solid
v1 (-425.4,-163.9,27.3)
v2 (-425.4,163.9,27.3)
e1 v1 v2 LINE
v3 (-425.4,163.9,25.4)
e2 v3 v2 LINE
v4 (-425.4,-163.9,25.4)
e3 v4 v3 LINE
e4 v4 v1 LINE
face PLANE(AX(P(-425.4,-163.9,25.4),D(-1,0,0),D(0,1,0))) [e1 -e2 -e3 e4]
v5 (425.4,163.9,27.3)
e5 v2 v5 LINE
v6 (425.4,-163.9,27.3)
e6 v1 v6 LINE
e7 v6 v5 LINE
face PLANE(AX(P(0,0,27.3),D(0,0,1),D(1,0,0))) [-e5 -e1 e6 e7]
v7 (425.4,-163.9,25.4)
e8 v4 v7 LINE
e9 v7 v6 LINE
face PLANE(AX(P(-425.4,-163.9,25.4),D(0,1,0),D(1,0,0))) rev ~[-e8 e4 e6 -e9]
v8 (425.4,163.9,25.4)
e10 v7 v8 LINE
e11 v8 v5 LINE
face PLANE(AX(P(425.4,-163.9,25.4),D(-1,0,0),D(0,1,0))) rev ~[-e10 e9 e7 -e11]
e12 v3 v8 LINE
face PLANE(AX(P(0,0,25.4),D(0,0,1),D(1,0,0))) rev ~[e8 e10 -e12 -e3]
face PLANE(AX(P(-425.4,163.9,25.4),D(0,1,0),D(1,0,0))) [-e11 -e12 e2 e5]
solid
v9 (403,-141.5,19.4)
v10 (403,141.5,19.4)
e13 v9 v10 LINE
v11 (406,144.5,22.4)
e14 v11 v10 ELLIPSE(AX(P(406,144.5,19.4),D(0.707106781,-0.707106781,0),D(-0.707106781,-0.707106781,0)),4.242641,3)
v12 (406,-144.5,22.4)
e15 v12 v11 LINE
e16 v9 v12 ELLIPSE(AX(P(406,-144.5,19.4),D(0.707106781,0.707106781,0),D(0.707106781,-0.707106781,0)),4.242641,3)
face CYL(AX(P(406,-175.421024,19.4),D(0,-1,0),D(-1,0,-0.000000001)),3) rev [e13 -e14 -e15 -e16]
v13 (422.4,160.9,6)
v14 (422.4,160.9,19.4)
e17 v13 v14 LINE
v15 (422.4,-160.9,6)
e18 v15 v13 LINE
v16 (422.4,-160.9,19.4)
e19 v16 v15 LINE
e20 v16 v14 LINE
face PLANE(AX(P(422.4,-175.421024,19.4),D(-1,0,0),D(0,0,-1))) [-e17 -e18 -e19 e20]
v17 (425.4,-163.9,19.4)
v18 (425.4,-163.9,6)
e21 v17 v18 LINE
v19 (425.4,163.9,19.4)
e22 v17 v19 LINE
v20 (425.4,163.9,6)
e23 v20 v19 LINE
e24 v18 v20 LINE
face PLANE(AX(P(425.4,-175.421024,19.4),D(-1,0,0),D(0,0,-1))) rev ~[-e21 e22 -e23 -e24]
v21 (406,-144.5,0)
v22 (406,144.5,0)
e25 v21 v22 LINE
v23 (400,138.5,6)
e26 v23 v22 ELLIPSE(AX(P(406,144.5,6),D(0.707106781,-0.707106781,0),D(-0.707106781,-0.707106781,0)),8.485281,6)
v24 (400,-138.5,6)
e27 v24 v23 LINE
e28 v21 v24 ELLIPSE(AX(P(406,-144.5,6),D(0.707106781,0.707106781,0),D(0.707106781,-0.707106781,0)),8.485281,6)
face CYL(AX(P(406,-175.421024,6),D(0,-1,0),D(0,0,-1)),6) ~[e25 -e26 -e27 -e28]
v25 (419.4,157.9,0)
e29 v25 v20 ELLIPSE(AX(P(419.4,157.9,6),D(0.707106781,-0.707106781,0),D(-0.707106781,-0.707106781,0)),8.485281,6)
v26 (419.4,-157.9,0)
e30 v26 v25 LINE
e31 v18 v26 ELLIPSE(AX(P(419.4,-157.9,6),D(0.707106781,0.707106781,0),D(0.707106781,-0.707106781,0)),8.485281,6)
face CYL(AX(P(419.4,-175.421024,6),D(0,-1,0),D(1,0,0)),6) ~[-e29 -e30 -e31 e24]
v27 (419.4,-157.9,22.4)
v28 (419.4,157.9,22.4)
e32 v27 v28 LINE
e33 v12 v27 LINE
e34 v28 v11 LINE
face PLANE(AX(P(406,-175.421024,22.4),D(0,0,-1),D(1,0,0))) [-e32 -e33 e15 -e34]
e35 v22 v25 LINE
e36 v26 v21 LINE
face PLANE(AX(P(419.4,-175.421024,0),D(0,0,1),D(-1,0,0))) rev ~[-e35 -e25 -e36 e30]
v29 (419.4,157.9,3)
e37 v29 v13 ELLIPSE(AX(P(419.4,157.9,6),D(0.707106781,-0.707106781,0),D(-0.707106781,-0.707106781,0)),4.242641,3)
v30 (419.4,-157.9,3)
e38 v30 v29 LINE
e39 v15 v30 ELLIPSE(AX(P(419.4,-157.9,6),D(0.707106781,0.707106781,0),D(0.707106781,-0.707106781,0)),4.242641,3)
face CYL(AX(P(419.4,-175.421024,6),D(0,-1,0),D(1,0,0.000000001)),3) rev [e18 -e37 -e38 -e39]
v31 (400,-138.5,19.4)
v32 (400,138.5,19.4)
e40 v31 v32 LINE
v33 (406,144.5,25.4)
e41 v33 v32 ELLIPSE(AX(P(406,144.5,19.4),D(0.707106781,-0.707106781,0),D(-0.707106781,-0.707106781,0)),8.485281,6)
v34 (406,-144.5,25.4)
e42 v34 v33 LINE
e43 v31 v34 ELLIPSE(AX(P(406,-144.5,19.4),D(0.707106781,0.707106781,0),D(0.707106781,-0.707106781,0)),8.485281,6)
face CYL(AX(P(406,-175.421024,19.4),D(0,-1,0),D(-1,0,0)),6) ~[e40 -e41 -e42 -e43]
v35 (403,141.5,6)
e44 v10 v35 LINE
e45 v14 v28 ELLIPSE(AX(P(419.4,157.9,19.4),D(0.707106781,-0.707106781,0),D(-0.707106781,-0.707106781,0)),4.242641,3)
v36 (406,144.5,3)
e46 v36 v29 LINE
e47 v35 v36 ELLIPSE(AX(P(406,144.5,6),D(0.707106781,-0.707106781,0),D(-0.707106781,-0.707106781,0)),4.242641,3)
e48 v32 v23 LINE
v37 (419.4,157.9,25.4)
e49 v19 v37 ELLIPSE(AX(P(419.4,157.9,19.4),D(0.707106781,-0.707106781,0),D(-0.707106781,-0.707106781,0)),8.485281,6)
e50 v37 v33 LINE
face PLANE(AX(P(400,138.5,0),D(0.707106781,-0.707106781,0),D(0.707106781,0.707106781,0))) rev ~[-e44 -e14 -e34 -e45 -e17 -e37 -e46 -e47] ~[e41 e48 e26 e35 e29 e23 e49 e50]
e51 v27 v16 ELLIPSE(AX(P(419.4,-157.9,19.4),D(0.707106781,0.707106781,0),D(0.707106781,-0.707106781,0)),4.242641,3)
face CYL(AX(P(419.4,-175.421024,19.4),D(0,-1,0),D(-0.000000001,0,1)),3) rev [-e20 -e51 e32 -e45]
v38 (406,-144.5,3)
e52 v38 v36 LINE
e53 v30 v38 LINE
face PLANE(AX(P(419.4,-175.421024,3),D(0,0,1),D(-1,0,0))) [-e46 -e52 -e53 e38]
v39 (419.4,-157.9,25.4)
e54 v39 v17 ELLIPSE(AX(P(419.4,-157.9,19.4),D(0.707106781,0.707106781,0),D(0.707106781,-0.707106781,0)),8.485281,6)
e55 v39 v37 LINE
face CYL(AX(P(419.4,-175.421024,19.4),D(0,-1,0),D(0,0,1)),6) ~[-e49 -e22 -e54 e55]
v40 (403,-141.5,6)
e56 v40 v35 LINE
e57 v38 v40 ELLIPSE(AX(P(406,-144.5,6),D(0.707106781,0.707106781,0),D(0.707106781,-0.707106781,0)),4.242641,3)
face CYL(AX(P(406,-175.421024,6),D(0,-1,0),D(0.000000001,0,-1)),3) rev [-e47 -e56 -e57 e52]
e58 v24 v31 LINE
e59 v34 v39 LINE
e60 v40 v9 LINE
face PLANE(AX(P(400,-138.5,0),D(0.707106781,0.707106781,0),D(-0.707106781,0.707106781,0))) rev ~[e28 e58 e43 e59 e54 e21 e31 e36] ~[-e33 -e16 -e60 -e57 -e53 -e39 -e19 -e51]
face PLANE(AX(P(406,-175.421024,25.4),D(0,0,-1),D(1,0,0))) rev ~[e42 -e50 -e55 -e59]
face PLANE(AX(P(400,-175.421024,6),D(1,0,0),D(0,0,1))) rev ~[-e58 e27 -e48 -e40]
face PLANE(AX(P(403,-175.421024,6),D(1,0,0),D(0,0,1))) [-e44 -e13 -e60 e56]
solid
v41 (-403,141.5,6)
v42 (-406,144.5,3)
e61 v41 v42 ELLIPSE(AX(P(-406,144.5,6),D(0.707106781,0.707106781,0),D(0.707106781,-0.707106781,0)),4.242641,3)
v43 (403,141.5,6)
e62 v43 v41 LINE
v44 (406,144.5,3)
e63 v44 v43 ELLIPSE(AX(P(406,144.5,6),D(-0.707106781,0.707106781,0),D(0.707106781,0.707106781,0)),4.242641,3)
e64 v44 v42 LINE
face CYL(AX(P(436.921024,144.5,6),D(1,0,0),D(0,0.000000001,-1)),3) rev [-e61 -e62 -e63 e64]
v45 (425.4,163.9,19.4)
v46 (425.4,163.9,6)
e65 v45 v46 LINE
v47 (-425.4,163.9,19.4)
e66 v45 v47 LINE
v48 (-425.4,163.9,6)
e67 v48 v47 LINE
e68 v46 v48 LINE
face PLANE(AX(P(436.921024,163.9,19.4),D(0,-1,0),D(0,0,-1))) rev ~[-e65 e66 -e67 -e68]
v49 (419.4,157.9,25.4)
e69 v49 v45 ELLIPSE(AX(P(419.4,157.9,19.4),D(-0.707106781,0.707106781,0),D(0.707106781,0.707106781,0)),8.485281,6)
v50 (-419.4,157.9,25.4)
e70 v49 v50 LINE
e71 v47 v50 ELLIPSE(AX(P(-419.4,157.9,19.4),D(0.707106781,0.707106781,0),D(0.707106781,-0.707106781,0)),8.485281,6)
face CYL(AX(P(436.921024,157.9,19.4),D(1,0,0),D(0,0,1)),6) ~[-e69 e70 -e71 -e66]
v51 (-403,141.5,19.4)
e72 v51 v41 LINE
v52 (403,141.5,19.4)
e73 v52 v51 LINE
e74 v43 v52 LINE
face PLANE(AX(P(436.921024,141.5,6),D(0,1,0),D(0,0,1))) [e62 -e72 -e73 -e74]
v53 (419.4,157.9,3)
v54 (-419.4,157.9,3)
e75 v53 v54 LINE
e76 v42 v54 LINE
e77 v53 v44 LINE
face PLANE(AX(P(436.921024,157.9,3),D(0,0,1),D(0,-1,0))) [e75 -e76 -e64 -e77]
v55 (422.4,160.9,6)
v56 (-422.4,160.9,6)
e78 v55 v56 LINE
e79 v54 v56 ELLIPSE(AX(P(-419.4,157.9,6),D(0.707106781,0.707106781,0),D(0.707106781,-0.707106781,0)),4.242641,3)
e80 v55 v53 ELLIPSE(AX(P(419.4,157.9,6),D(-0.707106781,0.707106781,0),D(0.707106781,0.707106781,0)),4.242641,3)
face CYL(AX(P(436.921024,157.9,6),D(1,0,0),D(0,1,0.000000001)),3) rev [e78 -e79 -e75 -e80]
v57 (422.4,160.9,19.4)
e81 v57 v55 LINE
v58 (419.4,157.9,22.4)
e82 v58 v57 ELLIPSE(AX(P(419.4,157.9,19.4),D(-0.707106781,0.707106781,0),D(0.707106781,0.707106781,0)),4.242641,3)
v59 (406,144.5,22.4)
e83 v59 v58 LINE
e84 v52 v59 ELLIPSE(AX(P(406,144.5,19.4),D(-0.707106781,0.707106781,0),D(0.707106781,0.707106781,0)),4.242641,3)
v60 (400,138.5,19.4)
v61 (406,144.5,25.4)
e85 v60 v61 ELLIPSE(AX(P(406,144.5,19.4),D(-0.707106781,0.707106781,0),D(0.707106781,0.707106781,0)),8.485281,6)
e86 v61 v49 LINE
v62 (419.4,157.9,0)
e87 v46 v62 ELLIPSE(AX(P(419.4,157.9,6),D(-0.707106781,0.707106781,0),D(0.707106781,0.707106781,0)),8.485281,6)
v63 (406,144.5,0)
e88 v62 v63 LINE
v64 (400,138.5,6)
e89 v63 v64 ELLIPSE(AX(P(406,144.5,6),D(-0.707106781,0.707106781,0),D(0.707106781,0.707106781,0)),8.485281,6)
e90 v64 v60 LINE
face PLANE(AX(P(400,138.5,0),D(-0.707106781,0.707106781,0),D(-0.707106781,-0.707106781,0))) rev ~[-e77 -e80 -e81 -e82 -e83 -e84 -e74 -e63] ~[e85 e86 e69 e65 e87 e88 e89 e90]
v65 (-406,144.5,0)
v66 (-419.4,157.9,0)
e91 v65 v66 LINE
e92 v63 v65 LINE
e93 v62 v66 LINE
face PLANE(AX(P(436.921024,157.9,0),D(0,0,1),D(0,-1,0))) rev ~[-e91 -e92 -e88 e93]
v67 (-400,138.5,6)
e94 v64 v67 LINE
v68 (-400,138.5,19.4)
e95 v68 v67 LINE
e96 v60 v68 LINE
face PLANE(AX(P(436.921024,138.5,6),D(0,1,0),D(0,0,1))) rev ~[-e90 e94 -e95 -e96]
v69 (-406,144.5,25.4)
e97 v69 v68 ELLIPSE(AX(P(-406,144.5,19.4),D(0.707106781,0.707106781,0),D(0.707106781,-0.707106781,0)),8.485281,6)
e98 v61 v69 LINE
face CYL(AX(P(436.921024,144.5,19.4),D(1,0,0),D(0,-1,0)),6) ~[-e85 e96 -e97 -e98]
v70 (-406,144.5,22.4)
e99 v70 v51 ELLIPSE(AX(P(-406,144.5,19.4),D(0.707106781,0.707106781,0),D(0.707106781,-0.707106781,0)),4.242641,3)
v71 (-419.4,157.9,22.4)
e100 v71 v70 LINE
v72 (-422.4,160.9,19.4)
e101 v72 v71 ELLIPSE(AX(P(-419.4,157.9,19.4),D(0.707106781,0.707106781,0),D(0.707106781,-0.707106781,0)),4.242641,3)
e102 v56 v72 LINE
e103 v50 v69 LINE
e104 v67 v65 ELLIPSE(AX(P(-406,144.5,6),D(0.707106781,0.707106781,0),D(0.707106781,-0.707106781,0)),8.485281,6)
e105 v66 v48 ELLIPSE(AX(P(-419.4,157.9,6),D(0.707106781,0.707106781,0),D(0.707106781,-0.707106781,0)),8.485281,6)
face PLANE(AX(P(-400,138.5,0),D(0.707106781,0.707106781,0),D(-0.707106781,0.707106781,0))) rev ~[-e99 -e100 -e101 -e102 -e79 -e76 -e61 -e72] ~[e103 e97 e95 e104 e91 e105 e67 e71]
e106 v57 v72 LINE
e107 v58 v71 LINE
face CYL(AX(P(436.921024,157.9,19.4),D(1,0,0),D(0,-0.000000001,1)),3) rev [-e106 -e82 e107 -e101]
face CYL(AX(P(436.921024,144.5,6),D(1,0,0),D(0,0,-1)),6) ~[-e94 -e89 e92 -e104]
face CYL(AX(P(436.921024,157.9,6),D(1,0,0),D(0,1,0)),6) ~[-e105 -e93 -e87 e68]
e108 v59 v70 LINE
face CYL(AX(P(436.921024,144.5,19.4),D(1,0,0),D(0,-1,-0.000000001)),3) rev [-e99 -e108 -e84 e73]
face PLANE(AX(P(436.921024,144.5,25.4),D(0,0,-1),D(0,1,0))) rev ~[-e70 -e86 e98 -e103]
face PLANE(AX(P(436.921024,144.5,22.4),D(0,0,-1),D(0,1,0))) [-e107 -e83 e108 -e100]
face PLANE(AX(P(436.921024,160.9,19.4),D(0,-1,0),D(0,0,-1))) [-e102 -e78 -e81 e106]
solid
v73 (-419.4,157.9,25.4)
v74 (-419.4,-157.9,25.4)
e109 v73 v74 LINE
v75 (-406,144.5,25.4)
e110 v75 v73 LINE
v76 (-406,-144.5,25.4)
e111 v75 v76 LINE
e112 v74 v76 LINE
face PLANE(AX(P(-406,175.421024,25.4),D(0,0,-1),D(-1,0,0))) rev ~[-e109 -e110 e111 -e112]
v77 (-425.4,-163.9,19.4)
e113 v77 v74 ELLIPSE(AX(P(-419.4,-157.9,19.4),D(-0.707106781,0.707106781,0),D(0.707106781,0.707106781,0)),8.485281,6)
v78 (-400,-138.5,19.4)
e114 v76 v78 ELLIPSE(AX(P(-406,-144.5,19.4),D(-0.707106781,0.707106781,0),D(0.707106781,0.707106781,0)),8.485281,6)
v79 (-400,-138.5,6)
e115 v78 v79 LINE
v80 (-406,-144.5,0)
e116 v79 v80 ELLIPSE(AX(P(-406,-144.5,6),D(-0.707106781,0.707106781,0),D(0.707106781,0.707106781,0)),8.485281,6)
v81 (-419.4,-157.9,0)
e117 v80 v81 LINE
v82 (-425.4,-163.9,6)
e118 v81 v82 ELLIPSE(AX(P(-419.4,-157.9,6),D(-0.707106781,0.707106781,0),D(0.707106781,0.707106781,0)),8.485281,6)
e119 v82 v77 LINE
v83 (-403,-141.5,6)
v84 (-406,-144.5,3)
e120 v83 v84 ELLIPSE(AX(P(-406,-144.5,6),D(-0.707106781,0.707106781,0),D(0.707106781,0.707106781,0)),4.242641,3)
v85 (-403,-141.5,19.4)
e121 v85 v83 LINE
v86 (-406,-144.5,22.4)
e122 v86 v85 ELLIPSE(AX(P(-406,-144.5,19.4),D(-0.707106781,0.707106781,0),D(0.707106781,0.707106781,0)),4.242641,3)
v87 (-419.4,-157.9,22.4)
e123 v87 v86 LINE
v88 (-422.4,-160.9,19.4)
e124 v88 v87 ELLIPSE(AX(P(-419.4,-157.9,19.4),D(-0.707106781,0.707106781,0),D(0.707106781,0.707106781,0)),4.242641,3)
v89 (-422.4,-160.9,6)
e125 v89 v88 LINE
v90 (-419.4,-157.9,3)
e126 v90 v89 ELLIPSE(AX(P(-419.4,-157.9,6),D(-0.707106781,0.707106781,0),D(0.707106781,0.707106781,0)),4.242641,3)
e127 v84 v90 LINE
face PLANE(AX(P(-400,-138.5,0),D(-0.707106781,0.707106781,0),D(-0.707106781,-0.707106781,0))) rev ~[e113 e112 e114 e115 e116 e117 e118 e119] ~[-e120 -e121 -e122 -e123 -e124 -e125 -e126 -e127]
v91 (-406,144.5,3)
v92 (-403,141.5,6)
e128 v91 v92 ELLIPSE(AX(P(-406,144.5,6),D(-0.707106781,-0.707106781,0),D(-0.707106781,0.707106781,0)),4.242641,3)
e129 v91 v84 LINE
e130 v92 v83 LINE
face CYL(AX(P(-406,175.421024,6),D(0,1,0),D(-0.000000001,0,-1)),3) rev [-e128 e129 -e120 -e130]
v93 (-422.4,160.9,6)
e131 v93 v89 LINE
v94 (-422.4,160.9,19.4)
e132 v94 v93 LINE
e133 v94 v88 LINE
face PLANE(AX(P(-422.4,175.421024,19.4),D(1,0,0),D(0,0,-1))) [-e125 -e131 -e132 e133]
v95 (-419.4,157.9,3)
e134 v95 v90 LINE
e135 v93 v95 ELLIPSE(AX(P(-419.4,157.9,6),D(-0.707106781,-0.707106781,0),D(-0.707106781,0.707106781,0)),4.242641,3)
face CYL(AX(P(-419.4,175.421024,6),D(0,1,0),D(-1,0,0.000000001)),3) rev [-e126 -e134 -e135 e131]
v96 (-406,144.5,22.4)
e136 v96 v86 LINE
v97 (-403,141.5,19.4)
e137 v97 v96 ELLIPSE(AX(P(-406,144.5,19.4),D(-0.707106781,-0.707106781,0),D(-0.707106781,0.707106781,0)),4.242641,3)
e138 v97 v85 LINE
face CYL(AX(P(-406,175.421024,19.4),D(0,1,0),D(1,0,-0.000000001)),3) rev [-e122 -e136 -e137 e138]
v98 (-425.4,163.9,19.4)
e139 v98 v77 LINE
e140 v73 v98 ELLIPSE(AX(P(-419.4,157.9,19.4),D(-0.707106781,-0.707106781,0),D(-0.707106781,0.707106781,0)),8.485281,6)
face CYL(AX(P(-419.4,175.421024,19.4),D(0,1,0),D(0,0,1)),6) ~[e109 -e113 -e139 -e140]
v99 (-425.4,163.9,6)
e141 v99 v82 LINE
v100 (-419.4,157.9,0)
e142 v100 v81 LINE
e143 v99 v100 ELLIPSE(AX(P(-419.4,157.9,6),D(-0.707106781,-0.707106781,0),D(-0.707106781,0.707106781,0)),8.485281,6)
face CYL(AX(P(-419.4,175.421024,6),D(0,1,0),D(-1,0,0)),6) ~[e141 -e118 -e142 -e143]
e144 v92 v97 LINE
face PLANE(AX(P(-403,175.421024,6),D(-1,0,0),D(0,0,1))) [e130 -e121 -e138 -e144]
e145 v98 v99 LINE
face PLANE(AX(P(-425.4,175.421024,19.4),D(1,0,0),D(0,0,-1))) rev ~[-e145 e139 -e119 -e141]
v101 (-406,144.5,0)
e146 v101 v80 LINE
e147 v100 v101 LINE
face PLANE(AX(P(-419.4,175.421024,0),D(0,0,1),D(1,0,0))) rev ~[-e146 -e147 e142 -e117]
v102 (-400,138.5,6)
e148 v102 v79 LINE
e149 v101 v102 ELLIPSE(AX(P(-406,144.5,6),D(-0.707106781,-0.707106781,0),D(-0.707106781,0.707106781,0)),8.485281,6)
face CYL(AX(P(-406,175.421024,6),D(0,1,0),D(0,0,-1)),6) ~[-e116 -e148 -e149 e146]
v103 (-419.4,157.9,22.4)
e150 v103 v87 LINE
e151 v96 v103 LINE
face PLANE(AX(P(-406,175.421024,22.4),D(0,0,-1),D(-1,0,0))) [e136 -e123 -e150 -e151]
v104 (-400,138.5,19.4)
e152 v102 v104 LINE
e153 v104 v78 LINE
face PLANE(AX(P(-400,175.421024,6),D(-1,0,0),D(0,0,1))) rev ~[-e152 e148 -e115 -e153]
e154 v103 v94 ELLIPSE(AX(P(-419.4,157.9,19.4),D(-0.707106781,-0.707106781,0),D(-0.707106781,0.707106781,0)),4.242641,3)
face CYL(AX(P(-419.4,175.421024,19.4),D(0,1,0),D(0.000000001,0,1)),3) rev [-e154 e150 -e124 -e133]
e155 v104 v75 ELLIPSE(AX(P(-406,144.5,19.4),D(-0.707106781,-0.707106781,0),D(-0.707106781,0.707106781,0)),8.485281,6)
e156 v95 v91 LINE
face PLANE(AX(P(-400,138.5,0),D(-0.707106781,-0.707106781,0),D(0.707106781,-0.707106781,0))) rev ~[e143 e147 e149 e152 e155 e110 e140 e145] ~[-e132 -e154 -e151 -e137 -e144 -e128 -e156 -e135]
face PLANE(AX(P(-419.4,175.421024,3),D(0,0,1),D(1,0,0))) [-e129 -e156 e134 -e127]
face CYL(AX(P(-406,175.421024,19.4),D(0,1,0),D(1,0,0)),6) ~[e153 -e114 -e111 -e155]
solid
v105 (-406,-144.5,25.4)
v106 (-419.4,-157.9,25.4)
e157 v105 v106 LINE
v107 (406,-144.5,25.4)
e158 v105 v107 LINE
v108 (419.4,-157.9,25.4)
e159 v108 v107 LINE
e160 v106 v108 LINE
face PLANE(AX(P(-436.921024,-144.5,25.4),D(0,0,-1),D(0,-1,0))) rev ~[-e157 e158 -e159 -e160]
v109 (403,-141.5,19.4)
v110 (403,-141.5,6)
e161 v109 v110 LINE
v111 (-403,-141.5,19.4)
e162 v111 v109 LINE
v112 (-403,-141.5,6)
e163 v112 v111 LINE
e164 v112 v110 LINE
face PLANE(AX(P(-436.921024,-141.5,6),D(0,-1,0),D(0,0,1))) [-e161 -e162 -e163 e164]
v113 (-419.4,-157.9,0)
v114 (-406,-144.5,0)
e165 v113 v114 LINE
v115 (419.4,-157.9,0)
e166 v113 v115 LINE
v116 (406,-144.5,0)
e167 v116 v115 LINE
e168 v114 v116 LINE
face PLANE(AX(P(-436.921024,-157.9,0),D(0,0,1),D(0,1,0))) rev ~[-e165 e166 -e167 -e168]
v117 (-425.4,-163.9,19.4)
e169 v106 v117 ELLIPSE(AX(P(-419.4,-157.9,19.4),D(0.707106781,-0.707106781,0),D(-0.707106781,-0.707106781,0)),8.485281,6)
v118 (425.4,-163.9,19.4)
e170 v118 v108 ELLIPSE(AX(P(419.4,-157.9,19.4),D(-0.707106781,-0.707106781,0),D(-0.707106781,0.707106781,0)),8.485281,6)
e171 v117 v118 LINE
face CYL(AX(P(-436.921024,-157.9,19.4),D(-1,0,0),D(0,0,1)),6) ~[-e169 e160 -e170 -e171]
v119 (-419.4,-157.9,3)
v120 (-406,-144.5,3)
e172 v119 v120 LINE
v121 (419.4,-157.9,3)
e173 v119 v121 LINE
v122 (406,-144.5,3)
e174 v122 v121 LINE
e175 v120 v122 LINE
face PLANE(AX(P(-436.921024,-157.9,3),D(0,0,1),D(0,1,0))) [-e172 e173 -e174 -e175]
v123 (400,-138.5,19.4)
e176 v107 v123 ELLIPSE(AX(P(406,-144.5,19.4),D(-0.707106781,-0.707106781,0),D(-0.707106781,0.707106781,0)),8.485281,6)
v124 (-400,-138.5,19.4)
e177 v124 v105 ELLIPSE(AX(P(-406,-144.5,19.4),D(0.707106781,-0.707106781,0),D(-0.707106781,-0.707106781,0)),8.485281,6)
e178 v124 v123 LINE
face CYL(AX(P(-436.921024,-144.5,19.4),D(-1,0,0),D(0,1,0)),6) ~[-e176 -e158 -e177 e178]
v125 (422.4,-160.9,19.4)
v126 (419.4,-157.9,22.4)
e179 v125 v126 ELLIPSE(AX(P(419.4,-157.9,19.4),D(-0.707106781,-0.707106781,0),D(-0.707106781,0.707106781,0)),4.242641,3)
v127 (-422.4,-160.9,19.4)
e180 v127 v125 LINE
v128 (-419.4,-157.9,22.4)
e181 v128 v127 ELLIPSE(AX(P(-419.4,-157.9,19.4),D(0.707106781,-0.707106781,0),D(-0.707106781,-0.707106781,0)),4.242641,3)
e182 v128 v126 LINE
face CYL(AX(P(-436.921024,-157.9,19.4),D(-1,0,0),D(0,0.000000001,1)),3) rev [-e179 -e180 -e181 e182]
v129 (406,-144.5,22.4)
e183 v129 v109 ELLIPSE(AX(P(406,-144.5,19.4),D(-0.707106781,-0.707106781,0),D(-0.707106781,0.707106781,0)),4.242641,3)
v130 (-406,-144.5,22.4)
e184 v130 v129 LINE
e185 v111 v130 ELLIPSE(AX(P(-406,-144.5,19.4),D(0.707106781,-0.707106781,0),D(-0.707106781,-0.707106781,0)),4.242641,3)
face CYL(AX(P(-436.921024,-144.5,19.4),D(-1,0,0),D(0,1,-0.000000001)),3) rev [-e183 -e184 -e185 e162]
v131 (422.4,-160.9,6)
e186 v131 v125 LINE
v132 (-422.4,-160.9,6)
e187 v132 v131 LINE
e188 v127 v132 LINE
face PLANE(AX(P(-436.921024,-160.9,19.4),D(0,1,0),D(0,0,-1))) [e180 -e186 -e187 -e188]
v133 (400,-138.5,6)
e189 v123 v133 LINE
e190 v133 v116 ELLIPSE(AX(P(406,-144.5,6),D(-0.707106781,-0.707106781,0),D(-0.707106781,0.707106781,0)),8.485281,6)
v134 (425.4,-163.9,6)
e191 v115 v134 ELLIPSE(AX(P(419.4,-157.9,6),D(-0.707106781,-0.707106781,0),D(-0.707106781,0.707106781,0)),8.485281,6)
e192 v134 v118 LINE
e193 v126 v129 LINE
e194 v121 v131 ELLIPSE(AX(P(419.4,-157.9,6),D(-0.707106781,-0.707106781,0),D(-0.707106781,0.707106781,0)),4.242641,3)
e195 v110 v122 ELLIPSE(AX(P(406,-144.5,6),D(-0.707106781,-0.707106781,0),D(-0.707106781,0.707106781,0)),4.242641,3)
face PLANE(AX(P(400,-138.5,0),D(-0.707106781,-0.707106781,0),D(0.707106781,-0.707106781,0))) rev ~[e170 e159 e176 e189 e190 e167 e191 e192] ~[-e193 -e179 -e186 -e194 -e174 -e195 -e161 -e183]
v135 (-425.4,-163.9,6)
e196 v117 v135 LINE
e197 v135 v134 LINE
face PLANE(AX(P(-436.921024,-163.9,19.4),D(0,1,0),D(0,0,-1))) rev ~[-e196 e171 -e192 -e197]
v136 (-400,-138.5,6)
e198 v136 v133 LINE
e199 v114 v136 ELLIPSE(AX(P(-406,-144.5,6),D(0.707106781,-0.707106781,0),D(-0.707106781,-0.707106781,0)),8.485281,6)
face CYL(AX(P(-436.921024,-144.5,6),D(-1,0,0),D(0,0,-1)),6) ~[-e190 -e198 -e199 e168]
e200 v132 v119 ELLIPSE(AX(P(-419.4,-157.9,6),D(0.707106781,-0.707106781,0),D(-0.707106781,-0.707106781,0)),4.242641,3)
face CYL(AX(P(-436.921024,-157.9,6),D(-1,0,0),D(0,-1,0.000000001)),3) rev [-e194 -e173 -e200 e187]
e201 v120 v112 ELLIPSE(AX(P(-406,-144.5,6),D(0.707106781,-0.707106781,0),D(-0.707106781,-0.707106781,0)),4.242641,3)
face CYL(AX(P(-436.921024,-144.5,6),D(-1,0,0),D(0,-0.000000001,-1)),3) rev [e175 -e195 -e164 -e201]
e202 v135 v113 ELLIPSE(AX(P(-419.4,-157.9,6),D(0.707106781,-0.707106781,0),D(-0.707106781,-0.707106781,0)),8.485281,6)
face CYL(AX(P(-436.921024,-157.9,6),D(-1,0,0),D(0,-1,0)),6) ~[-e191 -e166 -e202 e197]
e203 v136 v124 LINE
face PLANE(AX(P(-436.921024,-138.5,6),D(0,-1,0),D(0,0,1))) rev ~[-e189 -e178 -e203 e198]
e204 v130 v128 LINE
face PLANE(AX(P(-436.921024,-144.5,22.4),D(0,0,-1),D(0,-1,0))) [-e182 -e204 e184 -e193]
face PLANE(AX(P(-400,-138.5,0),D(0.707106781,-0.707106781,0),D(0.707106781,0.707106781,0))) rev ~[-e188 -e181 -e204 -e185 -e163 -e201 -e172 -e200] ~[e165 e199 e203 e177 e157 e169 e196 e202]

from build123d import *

# Parameters (mm, degrees)
TUBO_CUADRADO_2_X_2_X_0_25_1_DEPTH      = 313.921024484
TUBO_CUADRADO_2_X_2_X_0_25_1_DEPTH_BACK = 36.921024484
TUBO_CUADRADO_2_X_2_X_0_25_1_2_DEPTH    = 873.842048969
TUBO_CUADRADO_2_X_2_X_0_25_1_3_DEPTH    = 350.842048969
TUBO_CUADRADO_2_X_2_X_0_25_1_4_DEPTH    = 873.842048969
CROQUIS3_W                              = 850.8
CROQUIS3_H                              = 327.8
SALIENTE_EXTRUIR1_DEPTH                 = 1.9


with BuildPart() as part:
    # Sketch1 → Tubo cuadrado 2 X 2 X 0.25(1) (new, two sides: drawn at the far end of the back side and taken through both)
    with BuildSketch(Plane(origin=(-412.7, 138.5, 12.7), x_dir=(1, 0, 0), z_dir=(0, -1, 0)).offset(-TUBO_CUADRADO_2_X_2_X_0_25_1_DEPTH_BACK)):
        with BuildLine():
            Line((-6.7, -12.7), (6.7, -12.7))
            ThreePointArc((6.7, -12.7), (10.942640687, -10.942640687), (12.7, -6.7))
            Line((12.7, -6.7), (12.7, 6.7))
            ThreePointArc((12.7, 6.7), (10.942640687, 10.942640687), (6.7, 12.7))
            Line((6.7, 12.7), (-6.7, 12.7))
            ThreePointArc((-6.7, 12.7), (-10.942640687, 10.942640687), (-12.7, 6.7))
            Line((-12.7, 6.7), (-12.7, -6.7))
            ThreePointArc((-12.7, -6.7), (-10.942640687, -10.942640687), (-6.7, -12.7))
        make_face()
        with BuildLine():
            Line((-6.7, -9.7), (6.7, -9.7))
            ThreePointArc((6.7, -9.7), (8.821320344, -8.821320344), (9.7, -6.7))
            Line((9.7, -6.7), (9.7, 6.7))
            ThreePointArc((9.7, 6.7), (8.821320344, 8.821320344), (6.7, 9.7))
            Line((6.7, 9.7), (-6.7, 9.7))
            ThreePointArc((-6.7, 9.7), (-8.821320344, 8.821320344), (-9.7, 6.7))
            Line((-9.7, 6.7), (-9.7, -6.7))
            ThreePointArc((-9.7, -6.7), (-8.821320344, -8.821320344), (-6.7, -9.7))
        make_face(mode=Mode.SUBTRACT)
    extrude(amount=TUBO_CUADRADO_2_X_2_X_0_25_1_DEPTH + TUBO_CUADRADO_2_X_2_X_0_25_1_DEPTH_BACK)

    # Tubo cuadrado 2 X 2 X 0.25(1) mitre 1
    split(bisect_by=Plane(origin=(-400, 138.5, 0), x_dir=(0.707106781, -0.707106781, 0), z_dir=(-0.707106781, -0.707106781, 0)), keep=Keep.TOP)

    # Tubo cuadrado 2 X 2 X 0.25(1) mitre 2
    split(bisect_by=Plane(origin=(-400, -138.5, 0), x_dir=(-0.707106781, -0.707106781, 0), z_dir=(-0.707106781, 0.707106781, 0)), keep=Keep.TOP)


with BuildPart() as body_2:
    # Sketch1 on segment 2 (carried to segment 2) → Tubo cuadrado 2 X 2 X 0.25_1 2 (new body)
    with BuildSketch(Plane(origin=(-436.921024484, -151.2, 12.7), x_dir=(0, 1, 0), z_dir=(1, 0, 0))):
        with BuildLine():
            Line((-6.7, -12.7), (6.7, -12.7))
            ThreePointArc((6.7, -12.7), (10.942640687, -10.942640687), (12.7, -6.7))
            Line((12.7, -6.7), (12.7, 6.7))
            ThreePointArc((12.7, 6.7), (10.942640687, 10.942640687), (6.7, 12.7))
            Line((6.7, 12.7), (-6.7, 12.7))
            ThreePointArc((-6.7, 12.7), (-10.942640687, 10.942640687), (-12.7, 6.7))
            Line((-12.7, 6.7), (-12.7, -6.7))
            ThreePointArc((-12.7, -6.7), (-10.942640687, -10.942640687), (-6.7, -12.7))
        make_face()
        with BuildLine():
            Line((-6.7, -9.7), (6.7, -9.7))
            ThreePointArc((6.7, -9.7), (8.821320344, -8.821320344), (9.7, -6.7))
            Line((9.7, -6.7), (9.7, 6.7))
            ThreePointArc((9.7, 6.7), (8.821320344, 8.821320344), (6.7, 9.7))
            Line((6.7, 9.7), (-6.7, 9.7))
            ThreePointArc((-6.7, 9.7), (-8.821320344, 8.821320344), (-9.7, 6.7))
            Line((-9.7, 6.7), (-9.7, -6.7))
            ThreePointArc((-9.7, -6.7), (-8.821320344, -8.821320344), (-6.7, -9.7))
        make_face(mode=Mode.SUBTRACT)
    extrude(amount=TUBO_CUADRADO_2_X_2_X_0_25_1_2_DEPTH)

    # Tubo cuadrado 2 X 2 X 0.25_1 2 mitre 1
    split(bisect_by=Plane(origin=(-400, -138.5, 0), x_dir=(0.707106781, 0.707106781, 0), z_dir=(0.707106781, -0.707106781, 0)), keep=Keep.TOP)

    # Tubo cuadrado 2 X 2 X 0.25_1 2 mitre 2
    split(bisect_by=Plane(origin=(400, -138.5, 0), x_dir=(0.707106781, -0.707106781, 0), z_dir=(-0.707106781, -0.707106781, 0)), keep=Keep.TOP)


with BuildPart() as body_3:
    # Sketch1 on segment 3 (carried to segment 3) → Tubo cuadrado 2 X 2 X 0.25_1 3 (new body)
    with BuildSketch(Plane(origin=(412.7, -175.421024484, 12.7), x_dir=(-1, 0, 0), z_dir=(0, 1, 0))):
        with BuildLine():
            Line((-6.7, -12.7), (6.7, -12.7))
            ThreePointArc((6.7, -12.7), (10.942640687, -10.942640687), (12.7, -6.7))
            Line((12.7, -6.7), (12.7, 6.7))
            ThreePointArc((12.7, 6.7), (10.942640687, 10.942640687), (6.7, 12.7))
            Line((6.7, 12.7), (-6.7, 12.7))
            ThreePointArc((-6.7, 12.7), (-10.942640687, 10.942640687), (-12.7, 6.7))
            Line((-12.7, 6.7), (-12.7, -6.7))
            ThreePointArc((-12.7, -6.7), (-10.942640687, -10.942640687), (-6.7, -12.7))
        make_face()
        with BuildLine():
            Line((-6.7, -9.7), (6.7, -9.7))
            ThreePointArc((6.7, -9.7), (8.821320344, -8.821320344), (9.7, -6.7))
            Line((9.7, -6.7), (9.7, 6.7))
            ThreePointArc((9.7, 6.7), (8.821320344, 8.821320344), (6.7, 9.7))
            Line((6.7, 9.7), (-6.7, 9.7))
            ThreePointArc((-6.7, 9.7), (-8.821320344, 8.821320344), (-9.7, 6.7))
            Line((-9.7, 6.7), (-9.7, -6.7))
            ThreePointArc((-9.7, -6.7), (-8.821320344, -8.821320344), (-6.7, -9.7))
        make_face(mode=Mode.SUBTRACT)
    extrude(amount=TUBO_CUADRADO_2_X_2_X_0_25_1_3_DEPTH)

    # Tubo cuadrado 2 X 2 X 0.25_1 3 mitre 1
    split(bisect_by=Plane(origin=(400, 138.5, 0), x_dir=(0.707106781, 0.707106781, 0), z_dir=(0.707106781, -0.707106781, 0)), keep=Keep.TOP)

    # Tubo cuadrado 2 X 2 X 0.25_1 3 mitre 2
    split(bisect_by=Plane(origin=(400, -138.5, 0), x_dir=(-0.707106781, 0.707106781, 0), z_dir=(0.707106781, 0.707106781, 0)), keep=Keep.TOP)


with BuildPart() as body_4:
    # Sketch1 on segment 4 (carried to segment 4) → Tubo cuadrado 2 X 2 X 0.25_1 4 (new body)
    with BuildSketch(Plane(origin=(436.921024484, 151.2, 12.7), x_dir=(0, -1, 0), z_dir=(-1, 0, 0))):
        with BuildLine():
            Line((-6.7, -12.7), (6.7, -12.7))
            ThreePointArc((6.7, -12.7), (10.942640687, -10.942640687), (12.7, -6.7))
            Line((12.7, -6.7), (12.7, 6.7))
            ThreePointArc((12.7, 6.7), (10.942640687, 10.942640687), (6.7, 12.7))
            Line((6.7, 12.7), (-6.7, 12.7))
            ThreePointArc((-6.7, 12.7), (-10.942640687, 10.942640687), (-12.7, 6.7))
            Line((-12.7, 6.7), (-12.7, -6.7))
            ThreePointArc((-12.7, -6.7), (-10.942640687, -10.942640687), (-6.7, -12.7))
        make_face()
        with BuildLine():
            Line((-6.7, -9.7), (6.7, -9.7))
            ThreePointArc((6.7, -9.7), (8.821320344, -8.821320344), (9.7, -6.7))
            Line((9.7, -6.7), (9.7, 6.7))
            ThreePointArc((9.7, 6.7), (8.821320344, 8.821320344), (6.7, 9.7))
            Line((6.7, 9.7), (-6.7, 9.7))
            ThreePointArc((-6.7, 9.7), (-8.821320344, 8.821320344), (-9.7, 6.7))
            Line((-9.7, 6.7), (-9.7, -6.7))
            ThreePointArc((-9.7, -6.7), (-8.821320344, -8.821320344), (-6.7, -9.7))
        make_face(mode=Mode.SUBTRACT)
    extrude(amount=TUBO_CUADRADO_2_X_2_X_0_25_1_4_DEPTH)

    # Tubo cuadrado 2 X 2 X 0.25_1 4 mitre 1
    split(bisect_by=Plane(origin=(-400, 138.5, 0), x_dir=(-0.707106781, 0.707106781, 0), z_dir=(0.707106781, 0.707106781, 0)), keep=Keep.TOP)

    # Tubo cuadrado 2 X 2 X 0.25_1 4 mitre 2
    split(bisect_by=Plane(origin=(400, 138.5, 0), x_dir=(-0.707106781, -0.707106781, 0), z_dir=(-0.707106781, 0.707106781, 0)), keep=Keep.TOP)


with BuildPart() as body_5:
    # Croquis3 → Saliente-Extruir1 (new body)
    with BuildSketch(Plane.XY.offset(25.4)):
        Rectangle(CROQUIS3_W, CROQUIS3_H)
    extrude(amount=SALIENTE_EXTRUIR1_DEPTH)


solid = Compound([part.part, body_2.part, body_3.part, body_4.part, body_5.part])
